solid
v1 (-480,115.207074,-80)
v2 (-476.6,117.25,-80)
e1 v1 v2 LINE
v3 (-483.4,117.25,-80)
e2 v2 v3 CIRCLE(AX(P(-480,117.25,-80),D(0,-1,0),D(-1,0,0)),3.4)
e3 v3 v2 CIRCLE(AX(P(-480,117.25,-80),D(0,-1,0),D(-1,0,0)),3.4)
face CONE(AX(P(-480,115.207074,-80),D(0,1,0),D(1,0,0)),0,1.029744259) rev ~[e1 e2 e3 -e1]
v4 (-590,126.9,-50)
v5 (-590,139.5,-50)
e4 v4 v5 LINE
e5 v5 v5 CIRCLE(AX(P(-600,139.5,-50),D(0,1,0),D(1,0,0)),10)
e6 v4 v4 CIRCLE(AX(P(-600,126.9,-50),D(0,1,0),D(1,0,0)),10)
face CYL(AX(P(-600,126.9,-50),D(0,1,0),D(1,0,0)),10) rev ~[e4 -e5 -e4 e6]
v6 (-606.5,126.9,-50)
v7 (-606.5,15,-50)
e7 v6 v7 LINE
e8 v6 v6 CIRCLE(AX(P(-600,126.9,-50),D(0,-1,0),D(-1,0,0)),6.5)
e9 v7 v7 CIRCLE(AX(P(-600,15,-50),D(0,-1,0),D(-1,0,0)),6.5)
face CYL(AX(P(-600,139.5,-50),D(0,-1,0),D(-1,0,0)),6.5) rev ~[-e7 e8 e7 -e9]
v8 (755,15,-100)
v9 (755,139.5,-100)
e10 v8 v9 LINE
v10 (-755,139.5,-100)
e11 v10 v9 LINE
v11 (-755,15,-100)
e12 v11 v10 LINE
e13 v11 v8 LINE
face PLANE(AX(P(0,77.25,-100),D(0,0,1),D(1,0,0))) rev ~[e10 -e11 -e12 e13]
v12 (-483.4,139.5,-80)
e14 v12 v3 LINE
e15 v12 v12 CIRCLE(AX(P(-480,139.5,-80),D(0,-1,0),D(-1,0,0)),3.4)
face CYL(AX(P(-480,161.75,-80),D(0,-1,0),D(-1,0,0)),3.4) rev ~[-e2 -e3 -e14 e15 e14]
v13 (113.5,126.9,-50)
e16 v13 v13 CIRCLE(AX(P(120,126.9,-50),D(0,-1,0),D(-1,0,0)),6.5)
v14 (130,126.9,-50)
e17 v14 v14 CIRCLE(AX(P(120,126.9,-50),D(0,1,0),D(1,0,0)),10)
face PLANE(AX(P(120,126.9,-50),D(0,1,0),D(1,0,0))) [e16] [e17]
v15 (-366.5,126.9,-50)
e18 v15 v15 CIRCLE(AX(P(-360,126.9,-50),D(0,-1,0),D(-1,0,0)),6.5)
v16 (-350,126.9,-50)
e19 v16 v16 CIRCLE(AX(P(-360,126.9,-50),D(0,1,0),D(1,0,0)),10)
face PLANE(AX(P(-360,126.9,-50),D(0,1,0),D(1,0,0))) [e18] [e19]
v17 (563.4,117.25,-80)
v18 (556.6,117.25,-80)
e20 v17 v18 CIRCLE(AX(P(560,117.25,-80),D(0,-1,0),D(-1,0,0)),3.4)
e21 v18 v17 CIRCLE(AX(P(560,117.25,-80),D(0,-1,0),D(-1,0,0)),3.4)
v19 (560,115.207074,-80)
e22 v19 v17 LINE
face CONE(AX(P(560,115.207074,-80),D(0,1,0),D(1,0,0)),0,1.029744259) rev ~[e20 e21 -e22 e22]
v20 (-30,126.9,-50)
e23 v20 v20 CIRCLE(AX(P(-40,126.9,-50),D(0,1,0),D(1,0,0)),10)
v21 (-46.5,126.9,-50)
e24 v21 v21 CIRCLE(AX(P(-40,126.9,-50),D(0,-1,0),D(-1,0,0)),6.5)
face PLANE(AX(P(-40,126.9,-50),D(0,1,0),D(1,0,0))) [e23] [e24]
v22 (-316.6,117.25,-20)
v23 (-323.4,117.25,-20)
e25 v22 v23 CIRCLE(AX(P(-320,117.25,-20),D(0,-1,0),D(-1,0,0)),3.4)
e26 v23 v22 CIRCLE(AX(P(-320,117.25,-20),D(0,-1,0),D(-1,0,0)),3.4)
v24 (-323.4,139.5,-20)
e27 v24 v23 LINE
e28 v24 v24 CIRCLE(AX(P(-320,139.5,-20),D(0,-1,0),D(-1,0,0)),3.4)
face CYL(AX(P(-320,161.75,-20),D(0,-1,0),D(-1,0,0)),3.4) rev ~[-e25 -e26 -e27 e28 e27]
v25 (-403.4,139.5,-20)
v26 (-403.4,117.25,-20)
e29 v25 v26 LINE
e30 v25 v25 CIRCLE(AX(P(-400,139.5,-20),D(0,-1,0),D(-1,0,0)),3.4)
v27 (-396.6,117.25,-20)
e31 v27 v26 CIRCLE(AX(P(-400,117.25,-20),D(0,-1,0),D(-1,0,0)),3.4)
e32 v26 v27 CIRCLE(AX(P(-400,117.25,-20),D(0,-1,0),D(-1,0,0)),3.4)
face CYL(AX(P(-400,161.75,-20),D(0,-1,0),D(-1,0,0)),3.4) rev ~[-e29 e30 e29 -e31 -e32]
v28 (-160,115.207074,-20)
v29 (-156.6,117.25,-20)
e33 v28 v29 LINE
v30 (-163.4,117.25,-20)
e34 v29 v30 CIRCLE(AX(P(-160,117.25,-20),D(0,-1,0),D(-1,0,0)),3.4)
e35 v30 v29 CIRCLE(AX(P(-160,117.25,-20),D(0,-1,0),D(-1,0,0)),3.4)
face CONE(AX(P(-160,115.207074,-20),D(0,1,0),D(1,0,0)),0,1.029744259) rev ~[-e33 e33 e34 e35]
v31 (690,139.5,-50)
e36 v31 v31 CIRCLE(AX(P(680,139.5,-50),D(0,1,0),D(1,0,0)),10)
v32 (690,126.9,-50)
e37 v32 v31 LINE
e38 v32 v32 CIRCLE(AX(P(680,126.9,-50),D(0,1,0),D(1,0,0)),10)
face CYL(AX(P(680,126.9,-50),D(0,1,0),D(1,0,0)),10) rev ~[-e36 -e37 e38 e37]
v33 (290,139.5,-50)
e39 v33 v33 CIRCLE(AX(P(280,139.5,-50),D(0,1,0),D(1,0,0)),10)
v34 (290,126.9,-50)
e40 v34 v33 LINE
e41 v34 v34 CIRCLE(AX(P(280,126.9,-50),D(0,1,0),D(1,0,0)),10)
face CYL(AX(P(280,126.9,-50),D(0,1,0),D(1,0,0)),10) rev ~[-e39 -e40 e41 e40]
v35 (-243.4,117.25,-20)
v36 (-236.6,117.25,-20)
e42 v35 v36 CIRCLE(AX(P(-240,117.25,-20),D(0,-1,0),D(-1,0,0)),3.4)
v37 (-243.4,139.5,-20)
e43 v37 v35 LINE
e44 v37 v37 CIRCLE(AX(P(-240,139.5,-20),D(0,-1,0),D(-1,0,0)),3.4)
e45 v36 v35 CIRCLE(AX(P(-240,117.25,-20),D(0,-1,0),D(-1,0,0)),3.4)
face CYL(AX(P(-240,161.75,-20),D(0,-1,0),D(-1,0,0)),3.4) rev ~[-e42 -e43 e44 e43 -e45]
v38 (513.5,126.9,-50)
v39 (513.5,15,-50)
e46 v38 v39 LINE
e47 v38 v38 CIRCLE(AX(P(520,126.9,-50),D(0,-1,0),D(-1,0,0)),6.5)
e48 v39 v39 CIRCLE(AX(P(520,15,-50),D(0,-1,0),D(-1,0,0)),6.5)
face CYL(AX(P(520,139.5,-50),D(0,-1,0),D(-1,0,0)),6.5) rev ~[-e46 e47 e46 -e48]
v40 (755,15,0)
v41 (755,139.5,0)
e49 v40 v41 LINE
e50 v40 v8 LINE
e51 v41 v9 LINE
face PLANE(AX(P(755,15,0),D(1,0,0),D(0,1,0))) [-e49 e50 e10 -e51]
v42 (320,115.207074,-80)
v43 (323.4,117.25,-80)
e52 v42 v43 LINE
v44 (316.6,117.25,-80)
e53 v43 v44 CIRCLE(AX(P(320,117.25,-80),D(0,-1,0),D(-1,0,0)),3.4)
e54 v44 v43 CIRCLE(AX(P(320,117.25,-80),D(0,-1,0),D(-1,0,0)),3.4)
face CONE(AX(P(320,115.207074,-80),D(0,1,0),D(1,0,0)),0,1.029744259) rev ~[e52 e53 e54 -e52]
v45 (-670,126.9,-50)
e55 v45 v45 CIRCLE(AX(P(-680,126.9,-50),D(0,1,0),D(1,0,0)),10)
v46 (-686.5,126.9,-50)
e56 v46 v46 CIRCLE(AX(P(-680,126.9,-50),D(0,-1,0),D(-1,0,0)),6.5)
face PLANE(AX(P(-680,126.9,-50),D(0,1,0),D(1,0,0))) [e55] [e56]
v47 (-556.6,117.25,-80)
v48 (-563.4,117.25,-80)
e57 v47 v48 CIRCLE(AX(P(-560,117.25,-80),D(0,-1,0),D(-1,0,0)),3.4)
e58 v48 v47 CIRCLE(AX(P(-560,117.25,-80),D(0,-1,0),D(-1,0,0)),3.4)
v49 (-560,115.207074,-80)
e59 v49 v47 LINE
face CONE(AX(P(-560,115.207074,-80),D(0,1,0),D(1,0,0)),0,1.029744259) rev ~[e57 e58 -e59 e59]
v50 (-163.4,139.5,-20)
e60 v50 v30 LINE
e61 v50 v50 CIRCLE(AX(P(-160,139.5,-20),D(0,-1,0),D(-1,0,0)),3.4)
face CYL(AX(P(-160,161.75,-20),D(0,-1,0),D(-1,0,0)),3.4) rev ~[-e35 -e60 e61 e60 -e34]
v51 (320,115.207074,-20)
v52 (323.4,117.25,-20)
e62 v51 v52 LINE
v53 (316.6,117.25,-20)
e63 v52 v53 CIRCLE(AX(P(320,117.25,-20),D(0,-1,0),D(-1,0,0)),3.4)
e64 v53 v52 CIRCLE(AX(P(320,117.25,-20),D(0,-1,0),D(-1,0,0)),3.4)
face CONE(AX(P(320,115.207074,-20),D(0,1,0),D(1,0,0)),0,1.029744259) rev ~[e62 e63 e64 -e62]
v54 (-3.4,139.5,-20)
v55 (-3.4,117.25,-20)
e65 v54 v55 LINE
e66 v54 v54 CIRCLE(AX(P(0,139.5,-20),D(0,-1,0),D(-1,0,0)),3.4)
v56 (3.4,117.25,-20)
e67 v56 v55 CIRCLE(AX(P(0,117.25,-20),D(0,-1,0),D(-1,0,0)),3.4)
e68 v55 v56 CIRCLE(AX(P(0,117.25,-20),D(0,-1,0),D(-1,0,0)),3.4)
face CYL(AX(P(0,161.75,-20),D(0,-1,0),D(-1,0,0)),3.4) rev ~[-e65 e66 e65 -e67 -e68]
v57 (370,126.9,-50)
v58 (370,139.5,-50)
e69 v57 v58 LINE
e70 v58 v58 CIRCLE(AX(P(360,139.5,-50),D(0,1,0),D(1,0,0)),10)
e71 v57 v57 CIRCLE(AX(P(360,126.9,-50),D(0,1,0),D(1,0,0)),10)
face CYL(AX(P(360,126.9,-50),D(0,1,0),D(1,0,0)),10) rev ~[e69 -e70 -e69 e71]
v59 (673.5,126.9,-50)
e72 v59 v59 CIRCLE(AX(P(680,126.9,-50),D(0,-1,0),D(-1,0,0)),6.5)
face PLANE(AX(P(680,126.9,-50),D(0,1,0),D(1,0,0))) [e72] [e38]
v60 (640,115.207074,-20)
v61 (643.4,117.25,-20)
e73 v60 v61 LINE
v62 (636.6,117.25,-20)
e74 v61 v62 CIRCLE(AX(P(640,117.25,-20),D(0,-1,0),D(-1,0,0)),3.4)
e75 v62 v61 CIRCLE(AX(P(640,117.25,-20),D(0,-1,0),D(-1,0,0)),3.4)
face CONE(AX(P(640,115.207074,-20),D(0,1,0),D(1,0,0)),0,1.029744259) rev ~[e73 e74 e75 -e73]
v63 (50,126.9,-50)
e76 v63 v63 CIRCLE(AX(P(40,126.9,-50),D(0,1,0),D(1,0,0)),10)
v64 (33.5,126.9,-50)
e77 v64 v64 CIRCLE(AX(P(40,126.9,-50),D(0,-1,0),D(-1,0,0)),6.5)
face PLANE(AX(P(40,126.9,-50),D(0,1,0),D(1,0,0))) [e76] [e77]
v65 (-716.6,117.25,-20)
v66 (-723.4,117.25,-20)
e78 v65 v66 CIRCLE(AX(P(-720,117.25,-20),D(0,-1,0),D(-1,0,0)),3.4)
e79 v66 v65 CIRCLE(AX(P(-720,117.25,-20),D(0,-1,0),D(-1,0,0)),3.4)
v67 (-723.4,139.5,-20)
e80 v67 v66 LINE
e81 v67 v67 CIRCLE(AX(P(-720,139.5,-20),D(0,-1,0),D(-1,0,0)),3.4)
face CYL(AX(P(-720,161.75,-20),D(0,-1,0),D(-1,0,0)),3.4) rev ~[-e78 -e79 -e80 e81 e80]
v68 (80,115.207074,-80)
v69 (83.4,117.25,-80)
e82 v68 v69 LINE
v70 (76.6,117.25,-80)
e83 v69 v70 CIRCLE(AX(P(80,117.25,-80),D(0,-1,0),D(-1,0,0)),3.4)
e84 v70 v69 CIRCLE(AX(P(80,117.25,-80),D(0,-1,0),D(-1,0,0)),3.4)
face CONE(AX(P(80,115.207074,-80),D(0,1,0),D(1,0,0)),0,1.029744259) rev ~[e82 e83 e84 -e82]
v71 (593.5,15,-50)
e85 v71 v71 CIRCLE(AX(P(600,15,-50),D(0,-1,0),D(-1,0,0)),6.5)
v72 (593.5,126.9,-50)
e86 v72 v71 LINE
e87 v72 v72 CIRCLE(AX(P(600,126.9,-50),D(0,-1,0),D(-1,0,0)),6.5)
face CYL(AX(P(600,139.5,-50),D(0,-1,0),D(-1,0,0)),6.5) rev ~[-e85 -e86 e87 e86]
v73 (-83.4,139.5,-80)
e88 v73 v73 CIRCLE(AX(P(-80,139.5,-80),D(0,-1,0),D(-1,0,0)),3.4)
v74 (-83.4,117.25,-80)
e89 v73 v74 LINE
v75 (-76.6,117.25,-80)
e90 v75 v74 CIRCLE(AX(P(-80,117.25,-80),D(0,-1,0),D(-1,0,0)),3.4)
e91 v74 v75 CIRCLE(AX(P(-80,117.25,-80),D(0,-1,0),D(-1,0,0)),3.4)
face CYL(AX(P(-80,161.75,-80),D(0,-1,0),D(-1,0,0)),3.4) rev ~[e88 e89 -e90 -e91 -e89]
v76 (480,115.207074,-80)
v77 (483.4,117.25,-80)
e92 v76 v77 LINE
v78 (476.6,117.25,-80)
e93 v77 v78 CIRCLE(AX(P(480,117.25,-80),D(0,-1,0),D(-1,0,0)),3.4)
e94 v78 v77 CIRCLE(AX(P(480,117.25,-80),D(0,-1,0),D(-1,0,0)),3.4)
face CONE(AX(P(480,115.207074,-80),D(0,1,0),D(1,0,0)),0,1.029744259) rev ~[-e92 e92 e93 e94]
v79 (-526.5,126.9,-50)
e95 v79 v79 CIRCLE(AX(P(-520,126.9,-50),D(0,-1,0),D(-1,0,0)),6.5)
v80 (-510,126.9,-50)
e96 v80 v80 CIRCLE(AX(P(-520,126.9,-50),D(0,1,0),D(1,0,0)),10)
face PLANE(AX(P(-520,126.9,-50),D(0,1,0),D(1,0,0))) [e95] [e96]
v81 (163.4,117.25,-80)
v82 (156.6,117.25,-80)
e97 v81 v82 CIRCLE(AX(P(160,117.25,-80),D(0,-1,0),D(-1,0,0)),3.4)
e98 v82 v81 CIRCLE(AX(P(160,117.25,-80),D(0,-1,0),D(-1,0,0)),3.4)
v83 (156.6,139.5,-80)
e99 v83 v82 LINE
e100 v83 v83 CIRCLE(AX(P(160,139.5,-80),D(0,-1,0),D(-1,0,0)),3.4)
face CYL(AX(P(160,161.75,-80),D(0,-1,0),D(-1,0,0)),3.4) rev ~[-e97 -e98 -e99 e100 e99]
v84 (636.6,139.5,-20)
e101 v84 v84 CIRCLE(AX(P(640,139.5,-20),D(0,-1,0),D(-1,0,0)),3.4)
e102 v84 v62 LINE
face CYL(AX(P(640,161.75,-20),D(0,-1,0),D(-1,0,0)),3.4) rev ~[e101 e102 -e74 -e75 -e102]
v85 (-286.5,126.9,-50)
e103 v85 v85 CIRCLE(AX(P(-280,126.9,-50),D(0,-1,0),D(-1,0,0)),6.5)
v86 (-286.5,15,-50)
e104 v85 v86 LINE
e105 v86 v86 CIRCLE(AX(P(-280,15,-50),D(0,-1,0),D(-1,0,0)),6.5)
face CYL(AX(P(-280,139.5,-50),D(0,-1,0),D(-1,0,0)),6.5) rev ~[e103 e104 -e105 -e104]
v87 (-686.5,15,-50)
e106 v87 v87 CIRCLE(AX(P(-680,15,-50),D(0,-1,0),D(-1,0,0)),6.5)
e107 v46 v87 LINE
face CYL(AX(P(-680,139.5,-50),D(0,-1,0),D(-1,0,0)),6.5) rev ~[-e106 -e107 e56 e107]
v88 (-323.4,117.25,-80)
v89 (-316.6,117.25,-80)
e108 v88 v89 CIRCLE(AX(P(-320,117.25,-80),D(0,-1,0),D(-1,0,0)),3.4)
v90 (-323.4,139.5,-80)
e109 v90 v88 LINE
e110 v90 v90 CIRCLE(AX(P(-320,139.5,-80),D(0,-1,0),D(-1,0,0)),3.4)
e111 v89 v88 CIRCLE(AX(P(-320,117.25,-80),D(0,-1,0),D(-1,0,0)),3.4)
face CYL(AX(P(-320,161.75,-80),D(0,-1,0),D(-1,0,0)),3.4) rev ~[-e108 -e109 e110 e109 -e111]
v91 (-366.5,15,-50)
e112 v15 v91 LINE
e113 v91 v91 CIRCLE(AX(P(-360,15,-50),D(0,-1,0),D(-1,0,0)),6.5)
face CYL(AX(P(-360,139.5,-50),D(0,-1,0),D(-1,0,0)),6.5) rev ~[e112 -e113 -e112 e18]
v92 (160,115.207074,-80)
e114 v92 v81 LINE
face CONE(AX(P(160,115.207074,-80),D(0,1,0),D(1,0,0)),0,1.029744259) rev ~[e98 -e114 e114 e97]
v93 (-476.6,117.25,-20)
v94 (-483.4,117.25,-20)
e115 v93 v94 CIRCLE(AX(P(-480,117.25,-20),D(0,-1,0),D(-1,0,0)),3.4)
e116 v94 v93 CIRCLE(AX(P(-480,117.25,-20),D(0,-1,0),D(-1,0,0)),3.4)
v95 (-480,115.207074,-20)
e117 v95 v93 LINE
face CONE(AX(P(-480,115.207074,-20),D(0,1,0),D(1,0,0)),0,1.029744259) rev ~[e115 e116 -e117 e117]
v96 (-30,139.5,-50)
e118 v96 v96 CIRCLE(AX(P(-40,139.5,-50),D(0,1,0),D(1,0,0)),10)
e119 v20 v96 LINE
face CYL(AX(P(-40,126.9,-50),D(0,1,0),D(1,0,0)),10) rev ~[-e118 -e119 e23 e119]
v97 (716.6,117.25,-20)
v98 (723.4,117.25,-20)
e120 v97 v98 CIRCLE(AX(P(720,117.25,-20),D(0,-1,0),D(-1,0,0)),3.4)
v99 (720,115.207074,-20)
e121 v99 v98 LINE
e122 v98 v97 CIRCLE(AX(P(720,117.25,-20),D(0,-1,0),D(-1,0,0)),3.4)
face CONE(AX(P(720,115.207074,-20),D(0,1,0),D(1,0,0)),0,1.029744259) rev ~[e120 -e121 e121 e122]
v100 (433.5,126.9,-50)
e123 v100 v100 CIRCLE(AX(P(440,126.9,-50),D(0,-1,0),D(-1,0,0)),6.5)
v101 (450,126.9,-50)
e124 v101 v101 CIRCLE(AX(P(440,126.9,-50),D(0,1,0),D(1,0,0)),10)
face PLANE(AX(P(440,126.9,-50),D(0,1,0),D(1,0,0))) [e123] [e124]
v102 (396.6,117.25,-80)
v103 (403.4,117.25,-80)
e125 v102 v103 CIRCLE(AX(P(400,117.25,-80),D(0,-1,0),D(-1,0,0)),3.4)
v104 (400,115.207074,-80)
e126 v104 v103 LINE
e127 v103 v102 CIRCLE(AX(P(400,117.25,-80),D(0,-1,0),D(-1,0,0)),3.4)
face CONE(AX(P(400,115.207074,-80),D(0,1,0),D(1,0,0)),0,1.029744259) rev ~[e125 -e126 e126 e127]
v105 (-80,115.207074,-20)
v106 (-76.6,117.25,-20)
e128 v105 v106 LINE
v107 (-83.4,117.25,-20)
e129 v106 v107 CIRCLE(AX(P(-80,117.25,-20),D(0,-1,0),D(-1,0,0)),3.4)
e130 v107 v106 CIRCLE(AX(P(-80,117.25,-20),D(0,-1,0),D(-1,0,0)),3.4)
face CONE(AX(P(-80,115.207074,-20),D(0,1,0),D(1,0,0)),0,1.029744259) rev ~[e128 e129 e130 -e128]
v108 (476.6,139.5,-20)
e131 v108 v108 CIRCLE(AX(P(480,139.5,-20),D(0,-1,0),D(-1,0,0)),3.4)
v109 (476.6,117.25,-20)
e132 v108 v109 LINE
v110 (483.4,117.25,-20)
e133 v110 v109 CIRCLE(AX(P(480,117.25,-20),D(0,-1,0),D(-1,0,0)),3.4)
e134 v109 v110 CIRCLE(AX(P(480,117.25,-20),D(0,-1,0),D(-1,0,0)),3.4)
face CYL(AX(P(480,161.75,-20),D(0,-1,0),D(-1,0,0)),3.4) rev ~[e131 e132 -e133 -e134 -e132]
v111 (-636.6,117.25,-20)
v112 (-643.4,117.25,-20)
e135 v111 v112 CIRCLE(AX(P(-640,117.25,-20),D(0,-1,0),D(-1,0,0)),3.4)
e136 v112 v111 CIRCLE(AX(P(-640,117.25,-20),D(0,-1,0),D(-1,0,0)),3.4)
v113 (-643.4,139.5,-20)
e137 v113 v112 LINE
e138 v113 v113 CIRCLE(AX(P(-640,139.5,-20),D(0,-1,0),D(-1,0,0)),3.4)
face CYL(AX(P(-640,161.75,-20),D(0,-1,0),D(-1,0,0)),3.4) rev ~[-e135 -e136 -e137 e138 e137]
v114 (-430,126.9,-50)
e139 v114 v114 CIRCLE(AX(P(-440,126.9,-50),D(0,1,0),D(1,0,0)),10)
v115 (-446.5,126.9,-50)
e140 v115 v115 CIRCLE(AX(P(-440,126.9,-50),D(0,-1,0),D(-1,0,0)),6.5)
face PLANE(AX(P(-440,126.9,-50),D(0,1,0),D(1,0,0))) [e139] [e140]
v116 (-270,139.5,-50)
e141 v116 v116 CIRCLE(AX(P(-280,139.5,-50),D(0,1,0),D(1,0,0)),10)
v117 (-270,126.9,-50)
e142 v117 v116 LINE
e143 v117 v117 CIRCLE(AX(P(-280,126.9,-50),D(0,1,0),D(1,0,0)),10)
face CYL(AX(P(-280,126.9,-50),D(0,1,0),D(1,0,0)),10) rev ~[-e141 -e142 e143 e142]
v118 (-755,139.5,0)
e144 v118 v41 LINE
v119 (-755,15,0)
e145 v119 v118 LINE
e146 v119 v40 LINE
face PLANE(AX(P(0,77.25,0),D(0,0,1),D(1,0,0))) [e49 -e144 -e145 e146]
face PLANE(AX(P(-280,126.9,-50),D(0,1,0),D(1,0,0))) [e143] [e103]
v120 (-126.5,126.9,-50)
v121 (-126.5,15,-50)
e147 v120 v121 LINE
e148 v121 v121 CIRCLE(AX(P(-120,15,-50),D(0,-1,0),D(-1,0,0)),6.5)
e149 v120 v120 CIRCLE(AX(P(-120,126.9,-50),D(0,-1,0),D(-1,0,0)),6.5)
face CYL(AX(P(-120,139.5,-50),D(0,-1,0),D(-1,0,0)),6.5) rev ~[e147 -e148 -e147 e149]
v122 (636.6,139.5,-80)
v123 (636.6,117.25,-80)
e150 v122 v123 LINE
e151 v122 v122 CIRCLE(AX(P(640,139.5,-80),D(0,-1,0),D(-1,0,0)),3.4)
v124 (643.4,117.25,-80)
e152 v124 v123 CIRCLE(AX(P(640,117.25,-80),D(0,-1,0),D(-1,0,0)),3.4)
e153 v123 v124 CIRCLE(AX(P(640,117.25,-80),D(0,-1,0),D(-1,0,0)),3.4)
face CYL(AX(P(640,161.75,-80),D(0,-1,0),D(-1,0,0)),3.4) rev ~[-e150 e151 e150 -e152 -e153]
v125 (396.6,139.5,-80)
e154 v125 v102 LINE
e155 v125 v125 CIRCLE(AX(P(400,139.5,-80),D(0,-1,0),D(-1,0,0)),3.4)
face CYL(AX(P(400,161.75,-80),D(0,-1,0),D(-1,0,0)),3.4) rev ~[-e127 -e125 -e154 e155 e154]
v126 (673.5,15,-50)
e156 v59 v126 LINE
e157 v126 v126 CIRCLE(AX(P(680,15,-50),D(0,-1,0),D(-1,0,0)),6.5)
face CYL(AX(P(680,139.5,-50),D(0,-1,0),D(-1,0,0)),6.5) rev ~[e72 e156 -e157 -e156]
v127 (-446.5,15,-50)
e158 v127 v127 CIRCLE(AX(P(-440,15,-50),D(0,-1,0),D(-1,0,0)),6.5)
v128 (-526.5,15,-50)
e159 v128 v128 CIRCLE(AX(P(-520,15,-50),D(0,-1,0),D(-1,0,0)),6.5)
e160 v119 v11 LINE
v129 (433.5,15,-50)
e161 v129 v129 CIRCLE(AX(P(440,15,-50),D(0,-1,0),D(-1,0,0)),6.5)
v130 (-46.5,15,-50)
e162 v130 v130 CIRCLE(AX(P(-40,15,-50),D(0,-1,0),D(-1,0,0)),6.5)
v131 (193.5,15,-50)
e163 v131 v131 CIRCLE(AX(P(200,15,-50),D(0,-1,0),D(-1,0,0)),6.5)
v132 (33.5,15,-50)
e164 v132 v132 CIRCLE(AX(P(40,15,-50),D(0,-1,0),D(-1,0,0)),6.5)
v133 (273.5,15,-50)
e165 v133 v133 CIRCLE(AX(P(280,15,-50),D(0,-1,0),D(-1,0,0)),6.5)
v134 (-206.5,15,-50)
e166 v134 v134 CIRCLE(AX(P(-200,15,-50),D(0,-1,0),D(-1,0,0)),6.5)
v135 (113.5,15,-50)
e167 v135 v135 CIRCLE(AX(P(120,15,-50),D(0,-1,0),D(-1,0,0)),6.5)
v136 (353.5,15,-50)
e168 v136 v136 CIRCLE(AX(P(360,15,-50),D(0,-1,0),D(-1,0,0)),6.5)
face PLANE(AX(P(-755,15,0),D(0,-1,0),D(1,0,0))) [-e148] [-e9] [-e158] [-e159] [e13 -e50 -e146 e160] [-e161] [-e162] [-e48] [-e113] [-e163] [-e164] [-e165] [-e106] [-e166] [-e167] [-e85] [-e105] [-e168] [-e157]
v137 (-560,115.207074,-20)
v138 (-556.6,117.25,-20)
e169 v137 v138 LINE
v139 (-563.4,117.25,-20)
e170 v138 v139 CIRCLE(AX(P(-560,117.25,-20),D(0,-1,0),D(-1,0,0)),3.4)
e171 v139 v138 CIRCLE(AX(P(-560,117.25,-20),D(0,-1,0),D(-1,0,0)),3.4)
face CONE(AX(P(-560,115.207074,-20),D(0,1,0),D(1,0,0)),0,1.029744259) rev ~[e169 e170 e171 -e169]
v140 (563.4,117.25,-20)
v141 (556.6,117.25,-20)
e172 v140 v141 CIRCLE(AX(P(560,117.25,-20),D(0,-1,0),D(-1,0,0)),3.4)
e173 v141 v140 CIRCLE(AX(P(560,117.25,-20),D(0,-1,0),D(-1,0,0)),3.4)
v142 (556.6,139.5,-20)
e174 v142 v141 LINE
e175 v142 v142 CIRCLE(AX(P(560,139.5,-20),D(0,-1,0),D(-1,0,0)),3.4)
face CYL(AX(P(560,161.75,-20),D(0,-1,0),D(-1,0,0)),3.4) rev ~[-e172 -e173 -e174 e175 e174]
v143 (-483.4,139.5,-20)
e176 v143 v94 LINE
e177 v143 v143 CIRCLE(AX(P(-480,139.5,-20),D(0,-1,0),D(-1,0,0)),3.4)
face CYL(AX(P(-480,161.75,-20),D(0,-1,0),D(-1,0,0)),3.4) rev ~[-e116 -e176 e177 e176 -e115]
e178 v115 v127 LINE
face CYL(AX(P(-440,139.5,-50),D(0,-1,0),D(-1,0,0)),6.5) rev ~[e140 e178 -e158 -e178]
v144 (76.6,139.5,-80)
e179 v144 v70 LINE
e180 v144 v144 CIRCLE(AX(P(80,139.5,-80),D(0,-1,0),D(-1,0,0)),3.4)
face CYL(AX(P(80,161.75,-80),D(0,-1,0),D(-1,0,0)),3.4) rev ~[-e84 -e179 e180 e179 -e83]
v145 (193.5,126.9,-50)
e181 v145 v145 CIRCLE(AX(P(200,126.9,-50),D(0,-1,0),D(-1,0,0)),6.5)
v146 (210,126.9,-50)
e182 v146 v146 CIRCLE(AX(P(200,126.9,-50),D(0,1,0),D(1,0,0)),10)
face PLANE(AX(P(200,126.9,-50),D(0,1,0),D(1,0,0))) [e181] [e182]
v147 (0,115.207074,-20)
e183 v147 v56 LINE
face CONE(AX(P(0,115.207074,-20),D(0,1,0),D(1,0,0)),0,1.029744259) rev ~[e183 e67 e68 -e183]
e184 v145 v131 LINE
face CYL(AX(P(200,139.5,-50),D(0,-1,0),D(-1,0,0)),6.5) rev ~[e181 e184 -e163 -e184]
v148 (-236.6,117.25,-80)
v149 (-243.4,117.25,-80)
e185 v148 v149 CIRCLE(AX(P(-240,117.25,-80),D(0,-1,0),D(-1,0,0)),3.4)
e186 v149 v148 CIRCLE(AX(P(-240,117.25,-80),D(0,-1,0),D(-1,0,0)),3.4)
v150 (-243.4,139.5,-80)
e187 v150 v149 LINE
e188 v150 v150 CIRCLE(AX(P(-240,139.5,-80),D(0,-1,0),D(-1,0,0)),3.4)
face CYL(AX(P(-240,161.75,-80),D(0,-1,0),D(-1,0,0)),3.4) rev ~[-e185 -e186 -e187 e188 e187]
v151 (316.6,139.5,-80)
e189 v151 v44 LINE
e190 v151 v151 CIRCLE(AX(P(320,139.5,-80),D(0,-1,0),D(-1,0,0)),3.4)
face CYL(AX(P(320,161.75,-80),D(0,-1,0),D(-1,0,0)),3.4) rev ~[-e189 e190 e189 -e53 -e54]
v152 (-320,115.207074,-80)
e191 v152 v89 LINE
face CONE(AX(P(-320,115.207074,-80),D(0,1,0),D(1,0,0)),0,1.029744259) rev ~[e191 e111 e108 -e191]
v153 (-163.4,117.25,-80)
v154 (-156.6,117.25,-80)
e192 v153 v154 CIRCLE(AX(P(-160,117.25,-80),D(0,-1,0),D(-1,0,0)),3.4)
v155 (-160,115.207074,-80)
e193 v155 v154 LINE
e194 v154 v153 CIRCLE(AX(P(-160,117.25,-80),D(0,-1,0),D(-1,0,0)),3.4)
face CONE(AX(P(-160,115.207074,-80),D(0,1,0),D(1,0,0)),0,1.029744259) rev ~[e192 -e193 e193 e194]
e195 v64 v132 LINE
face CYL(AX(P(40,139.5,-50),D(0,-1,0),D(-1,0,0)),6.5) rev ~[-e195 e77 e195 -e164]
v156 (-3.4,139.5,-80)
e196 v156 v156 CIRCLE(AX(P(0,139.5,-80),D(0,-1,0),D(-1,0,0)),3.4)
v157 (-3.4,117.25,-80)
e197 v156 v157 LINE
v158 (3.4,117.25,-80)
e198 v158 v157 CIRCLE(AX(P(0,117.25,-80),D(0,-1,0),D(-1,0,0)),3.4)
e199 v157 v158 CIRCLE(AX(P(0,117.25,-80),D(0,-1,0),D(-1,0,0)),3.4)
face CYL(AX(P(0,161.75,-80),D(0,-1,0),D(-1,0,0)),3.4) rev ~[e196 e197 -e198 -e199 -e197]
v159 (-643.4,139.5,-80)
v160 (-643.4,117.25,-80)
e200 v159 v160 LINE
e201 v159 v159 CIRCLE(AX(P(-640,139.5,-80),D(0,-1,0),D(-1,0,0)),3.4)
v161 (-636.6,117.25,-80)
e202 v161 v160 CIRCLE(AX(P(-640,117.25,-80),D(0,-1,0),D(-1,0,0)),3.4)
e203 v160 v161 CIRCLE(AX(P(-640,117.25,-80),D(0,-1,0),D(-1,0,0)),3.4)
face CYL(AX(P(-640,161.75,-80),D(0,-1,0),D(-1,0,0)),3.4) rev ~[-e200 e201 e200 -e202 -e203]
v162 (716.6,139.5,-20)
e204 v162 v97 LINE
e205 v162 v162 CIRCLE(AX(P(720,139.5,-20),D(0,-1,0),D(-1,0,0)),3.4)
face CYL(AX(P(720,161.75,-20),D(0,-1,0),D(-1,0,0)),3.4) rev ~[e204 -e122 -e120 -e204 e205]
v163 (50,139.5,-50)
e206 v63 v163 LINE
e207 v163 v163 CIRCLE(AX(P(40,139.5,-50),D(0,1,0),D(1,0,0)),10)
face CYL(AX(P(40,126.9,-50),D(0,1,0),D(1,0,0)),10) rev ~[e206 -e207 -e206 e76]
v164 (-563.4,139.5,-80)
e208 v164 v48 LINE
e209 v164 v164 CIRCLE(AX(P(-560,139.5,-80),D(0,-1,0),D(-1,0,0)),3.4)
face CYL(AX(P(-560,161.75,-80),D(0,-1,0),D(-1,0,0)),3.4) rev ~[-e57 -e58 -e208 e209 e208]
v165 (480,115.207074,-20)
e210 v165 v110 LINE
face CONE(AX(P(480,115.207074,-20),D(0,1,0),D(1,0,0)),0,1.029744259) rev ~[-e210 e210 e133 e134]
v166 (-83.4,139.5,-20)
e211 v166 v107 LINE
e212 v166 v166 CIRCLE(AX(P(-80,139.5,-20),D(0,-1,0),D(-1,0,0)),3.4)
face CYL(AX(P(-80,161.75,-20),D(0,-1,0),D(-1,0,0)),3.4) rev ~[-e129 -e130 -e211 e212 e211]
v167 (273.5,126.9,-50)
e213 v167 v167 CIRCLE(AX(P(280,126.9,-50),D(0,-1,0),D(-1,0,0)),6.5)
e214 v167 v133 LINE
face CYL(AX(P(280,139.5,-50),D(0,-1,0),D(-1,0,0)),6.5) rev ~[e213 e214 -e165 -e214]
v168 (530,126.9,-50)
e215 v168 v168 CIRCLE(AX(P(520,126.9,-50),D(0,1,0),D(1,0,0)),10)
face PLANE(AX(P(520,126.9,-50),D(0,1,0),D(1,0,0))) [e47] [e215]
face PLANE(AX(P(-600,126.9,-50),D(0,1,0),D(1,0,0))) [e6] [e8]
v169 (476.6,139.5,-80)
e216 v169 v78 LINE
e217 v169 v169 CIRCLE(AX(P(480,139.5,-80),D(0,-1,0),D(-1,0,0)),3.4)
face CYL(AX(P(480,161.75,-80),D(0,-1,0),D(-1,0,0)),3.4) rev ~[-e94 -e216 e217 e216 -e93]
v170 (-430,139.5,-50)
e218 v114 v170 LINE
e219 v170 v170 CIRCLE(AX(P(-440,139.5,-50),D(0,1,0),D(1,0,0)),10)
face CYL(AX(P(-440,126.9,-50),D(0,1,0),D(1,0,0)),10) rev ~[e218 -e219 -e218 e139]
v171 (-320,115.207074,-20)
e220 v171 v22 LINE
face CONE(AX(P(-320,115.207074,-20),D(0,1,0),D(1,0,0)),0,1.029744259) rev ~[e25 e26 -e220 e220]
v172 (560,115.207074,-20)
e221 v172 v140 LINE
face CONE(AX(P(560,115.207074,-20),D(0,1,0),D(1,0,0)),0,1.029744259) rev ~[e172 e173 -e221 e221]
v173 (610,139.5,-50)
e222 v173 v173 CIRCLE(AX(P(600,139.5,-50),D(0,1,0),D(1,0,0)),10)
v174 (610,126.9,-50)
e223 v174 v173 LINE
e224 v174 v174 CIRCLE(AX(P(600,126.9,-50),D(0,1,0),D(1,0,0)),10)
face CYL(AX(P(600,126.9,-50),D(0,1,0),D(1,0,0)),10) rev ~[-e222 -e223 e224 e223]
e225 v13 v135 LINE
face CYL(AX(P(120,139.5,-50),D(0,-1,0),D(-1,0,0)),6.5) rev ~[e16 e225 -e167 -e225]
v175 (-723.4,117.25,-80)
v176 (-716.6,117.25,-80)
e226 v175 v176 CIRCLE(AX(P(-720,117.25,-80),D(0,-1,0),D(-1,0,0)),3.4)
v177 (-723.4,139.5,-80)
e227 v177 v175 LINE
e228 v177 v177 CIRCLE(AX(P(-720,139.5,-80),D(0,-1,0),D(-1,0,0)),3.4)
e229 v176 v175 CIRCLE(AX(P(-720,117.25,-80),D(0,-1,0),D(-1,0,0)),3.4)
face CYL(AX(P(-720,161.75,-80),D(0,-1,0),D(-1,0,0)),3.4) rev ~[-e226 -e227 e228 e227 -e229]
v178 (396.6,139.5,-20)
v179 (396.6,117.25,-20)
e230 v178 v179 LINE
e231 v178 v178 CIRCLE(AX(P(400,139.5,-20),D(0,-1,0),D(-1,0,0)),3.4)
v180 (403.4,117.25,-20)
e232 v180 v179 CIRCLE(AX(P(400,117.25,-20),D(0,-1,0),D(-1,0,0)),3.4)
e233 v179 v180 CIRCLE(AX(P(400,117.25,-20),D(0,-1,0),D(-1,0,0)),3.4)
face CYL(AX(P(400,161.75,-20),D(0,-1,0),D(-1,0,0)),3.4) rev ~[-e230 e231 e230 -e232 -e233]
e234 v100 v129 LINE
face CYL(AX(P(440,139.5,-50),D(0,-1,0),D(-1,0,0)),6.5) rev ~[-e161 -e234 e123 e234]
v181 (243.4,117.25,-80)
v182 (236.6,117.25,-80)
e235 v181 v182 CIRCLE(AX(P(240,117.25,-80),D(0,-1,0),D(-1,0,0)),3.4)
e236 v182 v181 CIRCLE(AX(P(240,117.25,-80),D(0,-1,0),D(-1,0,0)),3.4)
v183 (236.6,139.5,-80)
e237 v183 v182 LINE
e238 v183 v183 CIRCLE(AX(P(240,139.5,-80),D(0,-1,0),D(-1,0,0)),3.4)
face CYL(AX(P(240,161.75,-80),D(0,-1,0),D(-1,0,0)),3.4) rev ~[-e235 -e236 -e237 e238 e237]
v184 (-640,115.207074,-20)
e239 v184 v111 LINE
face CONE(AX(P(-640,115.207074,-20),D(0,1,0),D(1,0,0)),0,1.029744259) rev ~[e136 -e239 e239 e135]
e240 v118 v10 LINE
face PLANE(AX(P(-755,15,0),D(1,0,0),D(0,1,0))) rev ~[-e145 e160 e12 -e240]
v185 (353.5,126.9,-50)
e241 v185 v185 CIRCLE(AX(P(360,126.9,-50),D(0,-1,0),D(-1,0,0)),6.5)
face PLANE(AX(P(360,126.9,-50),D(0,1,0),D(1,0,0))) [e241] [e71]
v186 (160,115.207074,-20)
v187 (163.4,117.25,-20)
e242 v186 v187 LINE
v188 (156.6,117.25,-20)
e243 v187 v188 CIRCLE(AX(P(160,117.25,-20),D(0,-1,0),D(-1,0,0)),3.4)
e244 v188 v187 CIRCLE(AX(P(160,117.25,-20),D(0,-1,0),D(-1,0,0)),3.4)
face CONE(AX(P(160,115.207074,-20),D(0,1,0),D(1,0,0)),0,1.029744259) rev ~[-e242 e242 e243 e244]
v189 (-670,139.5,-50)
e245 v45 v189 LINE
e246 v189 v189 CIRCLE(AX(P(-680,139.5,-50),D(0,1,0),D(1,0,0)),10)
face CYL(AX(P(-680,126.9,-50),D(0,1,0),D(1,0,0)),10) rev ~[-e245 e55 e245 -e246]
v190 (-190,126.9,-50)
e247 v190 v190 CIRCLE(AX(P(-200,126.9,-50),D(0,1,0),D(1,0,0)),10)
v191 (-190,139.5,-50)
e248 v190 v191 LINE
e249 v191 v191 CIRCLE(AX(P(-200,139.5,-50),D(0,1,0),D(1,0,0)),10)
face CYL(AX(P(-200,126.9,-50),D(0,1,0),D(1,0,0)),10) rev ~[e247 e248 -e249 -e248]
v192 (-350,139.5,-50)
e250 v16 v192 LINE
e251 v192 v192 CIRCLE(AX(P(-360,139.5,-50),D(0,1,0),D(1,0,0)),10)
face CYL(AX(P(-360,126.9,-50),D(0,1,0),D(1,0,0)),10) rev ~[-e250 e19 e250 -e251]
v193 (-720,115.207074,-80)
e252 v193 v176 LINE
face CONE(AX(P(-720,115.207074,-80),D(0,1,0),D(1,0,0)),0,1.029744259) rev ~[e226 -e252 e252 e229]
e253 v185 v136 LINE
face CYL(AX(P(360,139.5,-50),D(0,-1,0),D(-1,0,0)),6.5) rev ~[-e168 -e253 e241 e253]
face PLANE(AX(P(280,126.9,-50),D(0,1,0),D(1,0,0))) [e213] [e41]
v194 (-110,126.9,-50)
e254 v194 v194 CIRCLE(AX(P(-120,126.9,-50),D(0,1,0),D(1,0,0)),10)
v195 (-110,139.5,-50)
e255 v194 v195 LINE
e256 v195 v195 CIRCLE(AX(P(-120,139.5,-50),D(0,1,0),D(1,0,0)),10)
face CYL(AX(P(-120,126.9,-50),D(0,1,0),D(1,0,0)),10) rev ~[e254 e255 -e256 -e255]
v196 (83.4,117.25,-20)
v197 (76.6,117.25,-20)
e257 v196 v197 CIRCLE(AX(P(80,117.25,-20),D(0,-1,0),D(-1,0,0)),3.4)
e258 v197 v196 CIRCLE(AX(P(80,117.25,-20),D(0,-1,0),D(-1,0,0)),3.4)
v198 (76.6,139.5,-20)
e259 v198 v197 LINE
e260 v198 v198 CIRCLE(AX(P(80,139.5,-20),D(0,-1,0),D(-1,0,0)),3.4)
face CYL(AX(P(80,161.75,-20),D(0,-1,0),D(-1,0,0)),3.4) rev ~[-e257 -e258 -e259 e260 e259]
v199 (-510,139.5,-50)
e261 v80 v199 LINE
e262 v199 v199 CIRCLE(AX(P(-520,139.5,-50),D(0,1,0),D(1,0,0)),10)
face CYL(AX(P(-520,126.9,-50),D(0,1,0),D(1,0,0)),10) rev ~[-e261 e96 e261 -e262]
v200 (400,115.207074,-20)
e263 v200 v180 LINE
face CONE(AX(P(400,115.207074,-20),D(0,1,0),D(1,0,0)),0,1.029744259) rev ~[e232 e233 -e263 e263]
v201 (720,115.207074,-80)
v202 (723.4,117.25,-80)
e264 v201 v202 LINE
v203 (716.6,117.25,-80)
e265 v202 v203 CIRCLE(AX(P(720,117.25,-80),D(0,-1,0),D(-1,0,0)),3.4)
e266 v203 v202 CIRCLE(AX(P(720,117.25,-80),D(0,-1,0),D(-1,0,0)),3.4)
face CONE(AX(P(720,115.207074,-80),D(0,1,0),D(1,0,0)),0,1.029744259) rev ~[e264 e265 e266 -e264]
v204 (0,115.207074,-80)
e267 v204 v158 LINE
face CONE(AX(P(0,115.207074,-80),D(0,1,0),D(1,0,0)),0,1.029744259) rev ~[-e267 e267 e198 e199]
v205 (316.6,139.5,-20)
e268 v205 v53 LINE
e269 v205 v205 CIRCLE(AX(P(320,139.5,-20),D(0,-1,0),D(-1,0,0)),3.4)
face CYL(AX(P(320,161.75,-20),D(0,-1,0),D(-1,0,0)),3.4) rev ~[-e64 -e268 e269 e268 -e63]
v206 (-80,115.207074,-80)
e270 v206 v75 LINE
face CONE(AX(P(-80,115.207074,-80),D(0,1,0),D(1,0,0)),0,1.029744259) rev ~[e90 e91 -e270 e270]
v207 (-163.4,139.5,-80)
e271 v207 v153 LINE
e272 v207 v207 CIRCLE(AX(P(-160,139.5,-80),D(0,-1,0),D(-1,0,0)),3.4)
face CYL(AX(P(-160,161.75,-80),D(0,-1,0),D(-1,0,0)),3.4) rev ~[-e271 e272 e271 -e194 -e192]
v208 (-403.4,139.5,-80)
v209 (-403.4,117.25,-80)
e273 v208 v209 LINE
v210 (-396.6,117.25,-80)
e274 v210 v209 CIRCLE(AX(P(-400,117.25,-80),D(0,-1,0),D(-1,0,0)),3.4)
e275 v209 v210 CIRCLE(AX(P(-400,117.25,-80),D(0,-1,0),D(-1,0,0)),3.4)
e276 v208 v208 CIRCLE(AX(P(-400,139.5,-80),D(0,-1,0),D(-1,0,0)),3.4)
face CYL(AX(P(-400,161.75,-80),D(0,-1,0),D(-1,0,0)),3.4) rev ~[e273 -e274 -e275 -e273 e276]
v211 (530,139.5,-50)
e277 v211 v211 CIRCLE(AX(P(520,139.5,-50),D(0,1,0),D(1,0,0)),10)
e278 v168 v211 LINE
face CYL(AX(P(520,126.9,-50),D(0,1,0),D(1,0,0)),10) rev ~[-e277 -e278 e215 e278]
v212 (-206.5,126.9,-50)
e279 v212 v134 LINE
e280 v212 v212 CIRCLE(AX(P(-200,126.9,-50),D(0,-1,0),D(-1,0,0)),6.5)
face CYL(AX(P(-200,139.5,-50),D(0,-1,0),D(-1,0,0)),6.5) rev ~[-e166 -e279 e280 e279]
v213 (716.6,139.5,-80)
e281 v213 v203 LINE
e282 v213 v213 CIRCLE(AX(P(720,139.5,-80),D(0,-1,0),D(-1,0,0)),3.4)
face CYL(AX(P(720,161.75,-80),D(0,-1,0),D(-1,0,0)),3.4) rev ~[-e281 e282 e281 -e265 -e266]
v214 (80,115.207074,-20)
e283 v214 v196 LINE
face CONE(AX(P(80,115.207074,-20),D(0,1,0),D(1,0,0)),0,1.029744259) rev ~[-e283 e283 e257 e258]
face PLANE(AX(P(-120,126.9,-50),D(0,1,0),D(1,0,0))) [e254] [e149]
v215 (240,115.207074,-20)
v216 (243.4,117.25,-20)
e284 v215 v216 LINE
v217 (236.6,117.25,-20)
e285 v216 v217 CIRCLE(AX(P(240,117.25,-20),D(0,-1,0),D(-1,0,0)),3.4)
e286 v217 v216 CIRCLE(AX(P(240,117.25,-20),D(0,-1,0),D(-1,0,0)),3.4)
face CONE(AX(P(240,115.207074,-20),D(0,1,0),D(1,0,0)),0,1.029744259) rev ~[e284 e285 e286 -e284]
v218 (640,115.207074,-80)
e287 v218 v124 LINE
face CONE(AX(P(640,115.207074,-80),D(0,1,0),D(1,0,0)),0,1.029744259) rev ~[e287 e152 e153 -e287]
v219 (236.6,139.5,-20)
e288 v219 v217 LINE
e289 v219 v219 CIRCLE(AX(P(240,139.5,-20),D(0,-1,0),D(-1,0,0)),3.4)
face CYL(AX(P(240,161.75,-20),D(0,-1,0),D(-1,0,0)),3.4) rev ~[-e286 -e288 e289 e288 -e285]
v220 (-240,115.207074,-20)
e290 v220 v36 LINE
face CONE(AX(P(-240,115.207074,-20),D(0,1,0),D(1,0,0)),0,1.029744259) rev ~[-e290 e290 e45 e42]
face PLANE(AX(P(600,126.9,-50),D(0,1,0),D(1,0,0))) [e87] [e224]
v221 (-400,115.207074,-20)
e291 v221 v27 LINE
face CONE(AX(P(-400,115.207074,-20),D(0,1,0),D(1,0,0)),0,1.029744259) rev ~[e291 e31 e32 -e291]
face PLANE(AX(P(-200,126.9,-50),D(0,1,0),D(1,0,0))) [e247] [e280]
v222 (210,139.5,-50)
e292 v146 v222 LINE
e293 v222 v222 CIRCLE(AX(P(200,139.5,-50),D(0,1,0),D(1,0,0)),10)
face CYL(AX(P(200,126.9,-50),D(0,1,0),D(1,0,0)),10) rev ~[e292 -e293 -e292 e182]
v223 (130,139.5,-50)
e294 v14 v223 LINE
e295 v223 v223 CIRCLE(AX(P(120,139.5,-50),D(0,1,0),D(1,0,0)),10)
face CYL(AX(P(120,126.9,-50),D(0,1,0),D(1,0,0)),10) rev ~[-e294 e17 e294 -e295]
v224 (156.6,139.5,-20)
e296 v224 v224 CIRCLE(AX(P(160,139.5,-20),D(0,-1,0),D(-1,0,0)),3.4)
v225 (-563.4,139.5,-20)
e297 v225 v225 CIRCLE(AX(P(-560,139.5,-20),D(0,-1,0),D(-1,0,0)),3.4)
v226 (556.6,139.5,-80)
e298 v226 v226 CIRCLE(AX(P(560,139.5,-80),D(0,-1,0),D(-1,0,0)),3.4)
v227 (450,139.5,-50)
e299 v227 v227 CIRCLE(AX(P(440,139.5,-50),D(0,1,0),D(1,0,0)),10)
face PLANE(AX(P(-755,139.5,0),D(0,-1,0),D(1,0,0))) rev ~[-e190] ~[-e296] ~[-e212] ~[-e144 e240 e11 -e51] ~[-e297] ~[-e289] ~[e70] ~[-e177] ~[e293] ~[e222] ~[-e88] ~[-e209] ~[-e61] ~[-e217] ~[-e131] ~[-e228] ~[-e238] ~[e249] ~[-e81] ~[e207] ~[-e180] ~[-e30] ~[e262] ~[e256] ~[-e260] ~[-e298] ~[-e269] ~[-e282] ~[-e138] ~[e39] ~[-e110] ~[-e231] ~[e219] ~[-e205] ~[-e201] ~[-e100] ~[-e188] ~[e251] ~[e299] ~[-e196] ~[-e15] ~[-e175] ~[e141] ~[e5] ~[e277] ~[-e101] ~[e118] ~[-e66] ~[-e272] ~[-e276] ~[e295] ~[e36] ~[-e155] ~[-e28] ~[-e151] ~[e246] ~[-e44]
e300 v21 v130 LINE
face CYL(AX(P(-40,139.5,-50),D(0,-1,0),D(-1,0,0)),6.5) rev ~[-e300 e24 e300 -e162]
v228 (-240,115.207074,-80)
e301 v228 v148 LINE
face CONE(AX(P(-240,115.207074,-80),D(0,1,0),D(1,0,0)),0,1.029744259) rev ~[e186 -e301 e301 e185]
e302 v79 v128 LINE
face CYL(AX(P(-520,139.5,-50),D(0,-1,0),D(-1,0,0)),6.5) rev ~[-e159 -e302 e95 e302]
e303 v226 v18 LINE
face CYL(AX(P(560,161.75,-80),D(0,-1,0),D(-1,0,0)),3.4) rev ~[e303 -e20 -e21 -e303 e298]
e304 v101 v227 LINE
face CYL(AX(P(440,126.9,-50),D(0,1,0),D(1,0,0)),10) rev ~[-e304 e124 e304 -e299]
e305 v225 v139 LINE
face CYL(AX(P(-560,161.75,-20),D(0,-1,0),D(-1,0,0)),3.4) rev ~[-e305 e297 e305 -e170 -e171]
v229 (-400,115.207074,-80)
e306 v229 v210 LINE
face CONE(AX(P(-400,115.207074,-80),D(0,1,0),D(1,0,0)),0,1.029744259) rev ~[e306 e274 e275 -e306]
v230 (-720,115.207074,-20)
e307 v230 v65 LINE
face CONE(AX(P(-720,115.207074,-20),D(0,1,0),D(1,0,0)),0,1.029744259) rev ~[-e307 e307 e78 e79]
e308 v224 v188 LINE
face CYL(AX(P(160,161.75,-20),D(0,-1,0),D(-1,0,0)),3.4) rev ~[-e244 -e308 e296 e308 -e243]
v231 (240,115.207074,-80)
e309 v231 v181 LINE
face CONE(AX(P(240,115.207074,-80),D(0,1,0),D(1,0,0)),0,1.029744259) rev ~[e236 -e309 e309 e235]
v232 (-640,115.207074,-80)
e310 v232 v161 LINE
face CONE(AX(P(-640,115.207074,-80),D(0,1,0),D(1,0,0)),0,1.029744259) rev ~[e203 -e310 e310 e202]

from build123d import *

# Parameters (mm, degrees)
SKETCH1_W                                            = 1510
SKETCH1_H                                            = 124.5
BOSS_EXTRUDE1_DEPTH                                  = 100
M8_TAPPED_HOLE1_D                                    = 6.8
M8_TAPPED_HOLE1_DEPTH                                = 22.25
M8_TAPPED_HOLE1_TIP                                  = 2.042926105
CBORE_FOR_M12_HEX_SOCKET_HEAD_CAP_SCREW1_D           = 13
CBORE_FOR_M12_HEX_SOCKET_HEAD_CAP_SCREW1_CBORE_D     = 20
CBORE_FOR_M12_HEX_SOCKET_HEAD_CAP_SCREW1_CBORE_DEPTH = 12.6
LPATTERN1_COUNT                                      = 18
LPATTERN1_PITCH                                      = 80


with BuildPart() as part:
    # Sketch1 → Boss-Extrude1 (new body)
    with BuildSketch(Plane.XY):
        with Locations((0, 77.25)):
            Rectangle(SKETCH1_W, SKETCH1_H)
    extrude(amount=-BOSS_EXTRUDE1_DEPTH)

    # M8 Tapped Hole1
    with Locations(Plane(origin=(0, 139.5, 0), x_dir=(1, 0, 0), z_dir=(0, 1, 0))):
        with Locations((720, 80), (720, 20), (640, 20), (640, 80), (560, 80), (560, 20), (480, 20), (480, 80), (400, 80), (400, 20), (320, 20), (320, 80), (240, 80), (240, 20), (160, 20), (160, 80), (80, 80), (80, 20), (0, 20), (0, 80), (-80, 80), (-80, 20), (-160, 20), (-160, 80), (-240, 80), (-240, 20), (-320, 20), (-320, 80), (-400, 80), (-400, 20), (-480, 20), (-480, 80), (-560, 20), (-560, 80), (-640, 20), (-640, 80), (-720, 80), (-720, 20)):
            Hole(M8_TAPPED_HOLE1_D / 2, depth=M8_TAPPED_HOLE1_DEPTH)
            with Locations((0, 0, -(M8_TAPPED_HOLE1_DEPTH + M8_TAPPED_HOLE1_TIP / 2))):  # 118° drill point
                Cone(0, M8_TAPPED_HOLE1_D / 2, M8_TAPPED_HOLE1_TIP, mode=Mode.SUBTRACT)

    # CBORE for M12 Hex Socket Head Cap Screw1 (through all)
    with Locations(Plane(origin=(0, 139.5, 0), x_dir=(1, 0, 0), z_dir=(0, 1, 0))):
        with Locations((680, 50)):
            cbore_for_m12_hex_socket_head_cap_screw1 = CounterBoreHole(CBORE_FOR_M12_HEX_SOCKET_HEAD_CAP_SCREW1_D / 2, CBORE_FOR_M12_HEX_SOCKET_HEAD_CAP_SCREW1_CBORE_D / 2, CBORE_FOR_M12_HEX_SOCKET_HEAD_CAP_SCREW1_CBORE_DEPTH)

    # LPattern1: CBORE for M12 Hex Socket Head Cap Screw1 ×18
    with Locations(*[(-i * LPATTERN1_PITCH, 0, 0) for i in range(1, LPATTERN1_COUNT)]):
        add(cbore_for_m12_hex_socket_head_cap_screw1, mode=Mode.SUBTRACT)


solid = part.part
